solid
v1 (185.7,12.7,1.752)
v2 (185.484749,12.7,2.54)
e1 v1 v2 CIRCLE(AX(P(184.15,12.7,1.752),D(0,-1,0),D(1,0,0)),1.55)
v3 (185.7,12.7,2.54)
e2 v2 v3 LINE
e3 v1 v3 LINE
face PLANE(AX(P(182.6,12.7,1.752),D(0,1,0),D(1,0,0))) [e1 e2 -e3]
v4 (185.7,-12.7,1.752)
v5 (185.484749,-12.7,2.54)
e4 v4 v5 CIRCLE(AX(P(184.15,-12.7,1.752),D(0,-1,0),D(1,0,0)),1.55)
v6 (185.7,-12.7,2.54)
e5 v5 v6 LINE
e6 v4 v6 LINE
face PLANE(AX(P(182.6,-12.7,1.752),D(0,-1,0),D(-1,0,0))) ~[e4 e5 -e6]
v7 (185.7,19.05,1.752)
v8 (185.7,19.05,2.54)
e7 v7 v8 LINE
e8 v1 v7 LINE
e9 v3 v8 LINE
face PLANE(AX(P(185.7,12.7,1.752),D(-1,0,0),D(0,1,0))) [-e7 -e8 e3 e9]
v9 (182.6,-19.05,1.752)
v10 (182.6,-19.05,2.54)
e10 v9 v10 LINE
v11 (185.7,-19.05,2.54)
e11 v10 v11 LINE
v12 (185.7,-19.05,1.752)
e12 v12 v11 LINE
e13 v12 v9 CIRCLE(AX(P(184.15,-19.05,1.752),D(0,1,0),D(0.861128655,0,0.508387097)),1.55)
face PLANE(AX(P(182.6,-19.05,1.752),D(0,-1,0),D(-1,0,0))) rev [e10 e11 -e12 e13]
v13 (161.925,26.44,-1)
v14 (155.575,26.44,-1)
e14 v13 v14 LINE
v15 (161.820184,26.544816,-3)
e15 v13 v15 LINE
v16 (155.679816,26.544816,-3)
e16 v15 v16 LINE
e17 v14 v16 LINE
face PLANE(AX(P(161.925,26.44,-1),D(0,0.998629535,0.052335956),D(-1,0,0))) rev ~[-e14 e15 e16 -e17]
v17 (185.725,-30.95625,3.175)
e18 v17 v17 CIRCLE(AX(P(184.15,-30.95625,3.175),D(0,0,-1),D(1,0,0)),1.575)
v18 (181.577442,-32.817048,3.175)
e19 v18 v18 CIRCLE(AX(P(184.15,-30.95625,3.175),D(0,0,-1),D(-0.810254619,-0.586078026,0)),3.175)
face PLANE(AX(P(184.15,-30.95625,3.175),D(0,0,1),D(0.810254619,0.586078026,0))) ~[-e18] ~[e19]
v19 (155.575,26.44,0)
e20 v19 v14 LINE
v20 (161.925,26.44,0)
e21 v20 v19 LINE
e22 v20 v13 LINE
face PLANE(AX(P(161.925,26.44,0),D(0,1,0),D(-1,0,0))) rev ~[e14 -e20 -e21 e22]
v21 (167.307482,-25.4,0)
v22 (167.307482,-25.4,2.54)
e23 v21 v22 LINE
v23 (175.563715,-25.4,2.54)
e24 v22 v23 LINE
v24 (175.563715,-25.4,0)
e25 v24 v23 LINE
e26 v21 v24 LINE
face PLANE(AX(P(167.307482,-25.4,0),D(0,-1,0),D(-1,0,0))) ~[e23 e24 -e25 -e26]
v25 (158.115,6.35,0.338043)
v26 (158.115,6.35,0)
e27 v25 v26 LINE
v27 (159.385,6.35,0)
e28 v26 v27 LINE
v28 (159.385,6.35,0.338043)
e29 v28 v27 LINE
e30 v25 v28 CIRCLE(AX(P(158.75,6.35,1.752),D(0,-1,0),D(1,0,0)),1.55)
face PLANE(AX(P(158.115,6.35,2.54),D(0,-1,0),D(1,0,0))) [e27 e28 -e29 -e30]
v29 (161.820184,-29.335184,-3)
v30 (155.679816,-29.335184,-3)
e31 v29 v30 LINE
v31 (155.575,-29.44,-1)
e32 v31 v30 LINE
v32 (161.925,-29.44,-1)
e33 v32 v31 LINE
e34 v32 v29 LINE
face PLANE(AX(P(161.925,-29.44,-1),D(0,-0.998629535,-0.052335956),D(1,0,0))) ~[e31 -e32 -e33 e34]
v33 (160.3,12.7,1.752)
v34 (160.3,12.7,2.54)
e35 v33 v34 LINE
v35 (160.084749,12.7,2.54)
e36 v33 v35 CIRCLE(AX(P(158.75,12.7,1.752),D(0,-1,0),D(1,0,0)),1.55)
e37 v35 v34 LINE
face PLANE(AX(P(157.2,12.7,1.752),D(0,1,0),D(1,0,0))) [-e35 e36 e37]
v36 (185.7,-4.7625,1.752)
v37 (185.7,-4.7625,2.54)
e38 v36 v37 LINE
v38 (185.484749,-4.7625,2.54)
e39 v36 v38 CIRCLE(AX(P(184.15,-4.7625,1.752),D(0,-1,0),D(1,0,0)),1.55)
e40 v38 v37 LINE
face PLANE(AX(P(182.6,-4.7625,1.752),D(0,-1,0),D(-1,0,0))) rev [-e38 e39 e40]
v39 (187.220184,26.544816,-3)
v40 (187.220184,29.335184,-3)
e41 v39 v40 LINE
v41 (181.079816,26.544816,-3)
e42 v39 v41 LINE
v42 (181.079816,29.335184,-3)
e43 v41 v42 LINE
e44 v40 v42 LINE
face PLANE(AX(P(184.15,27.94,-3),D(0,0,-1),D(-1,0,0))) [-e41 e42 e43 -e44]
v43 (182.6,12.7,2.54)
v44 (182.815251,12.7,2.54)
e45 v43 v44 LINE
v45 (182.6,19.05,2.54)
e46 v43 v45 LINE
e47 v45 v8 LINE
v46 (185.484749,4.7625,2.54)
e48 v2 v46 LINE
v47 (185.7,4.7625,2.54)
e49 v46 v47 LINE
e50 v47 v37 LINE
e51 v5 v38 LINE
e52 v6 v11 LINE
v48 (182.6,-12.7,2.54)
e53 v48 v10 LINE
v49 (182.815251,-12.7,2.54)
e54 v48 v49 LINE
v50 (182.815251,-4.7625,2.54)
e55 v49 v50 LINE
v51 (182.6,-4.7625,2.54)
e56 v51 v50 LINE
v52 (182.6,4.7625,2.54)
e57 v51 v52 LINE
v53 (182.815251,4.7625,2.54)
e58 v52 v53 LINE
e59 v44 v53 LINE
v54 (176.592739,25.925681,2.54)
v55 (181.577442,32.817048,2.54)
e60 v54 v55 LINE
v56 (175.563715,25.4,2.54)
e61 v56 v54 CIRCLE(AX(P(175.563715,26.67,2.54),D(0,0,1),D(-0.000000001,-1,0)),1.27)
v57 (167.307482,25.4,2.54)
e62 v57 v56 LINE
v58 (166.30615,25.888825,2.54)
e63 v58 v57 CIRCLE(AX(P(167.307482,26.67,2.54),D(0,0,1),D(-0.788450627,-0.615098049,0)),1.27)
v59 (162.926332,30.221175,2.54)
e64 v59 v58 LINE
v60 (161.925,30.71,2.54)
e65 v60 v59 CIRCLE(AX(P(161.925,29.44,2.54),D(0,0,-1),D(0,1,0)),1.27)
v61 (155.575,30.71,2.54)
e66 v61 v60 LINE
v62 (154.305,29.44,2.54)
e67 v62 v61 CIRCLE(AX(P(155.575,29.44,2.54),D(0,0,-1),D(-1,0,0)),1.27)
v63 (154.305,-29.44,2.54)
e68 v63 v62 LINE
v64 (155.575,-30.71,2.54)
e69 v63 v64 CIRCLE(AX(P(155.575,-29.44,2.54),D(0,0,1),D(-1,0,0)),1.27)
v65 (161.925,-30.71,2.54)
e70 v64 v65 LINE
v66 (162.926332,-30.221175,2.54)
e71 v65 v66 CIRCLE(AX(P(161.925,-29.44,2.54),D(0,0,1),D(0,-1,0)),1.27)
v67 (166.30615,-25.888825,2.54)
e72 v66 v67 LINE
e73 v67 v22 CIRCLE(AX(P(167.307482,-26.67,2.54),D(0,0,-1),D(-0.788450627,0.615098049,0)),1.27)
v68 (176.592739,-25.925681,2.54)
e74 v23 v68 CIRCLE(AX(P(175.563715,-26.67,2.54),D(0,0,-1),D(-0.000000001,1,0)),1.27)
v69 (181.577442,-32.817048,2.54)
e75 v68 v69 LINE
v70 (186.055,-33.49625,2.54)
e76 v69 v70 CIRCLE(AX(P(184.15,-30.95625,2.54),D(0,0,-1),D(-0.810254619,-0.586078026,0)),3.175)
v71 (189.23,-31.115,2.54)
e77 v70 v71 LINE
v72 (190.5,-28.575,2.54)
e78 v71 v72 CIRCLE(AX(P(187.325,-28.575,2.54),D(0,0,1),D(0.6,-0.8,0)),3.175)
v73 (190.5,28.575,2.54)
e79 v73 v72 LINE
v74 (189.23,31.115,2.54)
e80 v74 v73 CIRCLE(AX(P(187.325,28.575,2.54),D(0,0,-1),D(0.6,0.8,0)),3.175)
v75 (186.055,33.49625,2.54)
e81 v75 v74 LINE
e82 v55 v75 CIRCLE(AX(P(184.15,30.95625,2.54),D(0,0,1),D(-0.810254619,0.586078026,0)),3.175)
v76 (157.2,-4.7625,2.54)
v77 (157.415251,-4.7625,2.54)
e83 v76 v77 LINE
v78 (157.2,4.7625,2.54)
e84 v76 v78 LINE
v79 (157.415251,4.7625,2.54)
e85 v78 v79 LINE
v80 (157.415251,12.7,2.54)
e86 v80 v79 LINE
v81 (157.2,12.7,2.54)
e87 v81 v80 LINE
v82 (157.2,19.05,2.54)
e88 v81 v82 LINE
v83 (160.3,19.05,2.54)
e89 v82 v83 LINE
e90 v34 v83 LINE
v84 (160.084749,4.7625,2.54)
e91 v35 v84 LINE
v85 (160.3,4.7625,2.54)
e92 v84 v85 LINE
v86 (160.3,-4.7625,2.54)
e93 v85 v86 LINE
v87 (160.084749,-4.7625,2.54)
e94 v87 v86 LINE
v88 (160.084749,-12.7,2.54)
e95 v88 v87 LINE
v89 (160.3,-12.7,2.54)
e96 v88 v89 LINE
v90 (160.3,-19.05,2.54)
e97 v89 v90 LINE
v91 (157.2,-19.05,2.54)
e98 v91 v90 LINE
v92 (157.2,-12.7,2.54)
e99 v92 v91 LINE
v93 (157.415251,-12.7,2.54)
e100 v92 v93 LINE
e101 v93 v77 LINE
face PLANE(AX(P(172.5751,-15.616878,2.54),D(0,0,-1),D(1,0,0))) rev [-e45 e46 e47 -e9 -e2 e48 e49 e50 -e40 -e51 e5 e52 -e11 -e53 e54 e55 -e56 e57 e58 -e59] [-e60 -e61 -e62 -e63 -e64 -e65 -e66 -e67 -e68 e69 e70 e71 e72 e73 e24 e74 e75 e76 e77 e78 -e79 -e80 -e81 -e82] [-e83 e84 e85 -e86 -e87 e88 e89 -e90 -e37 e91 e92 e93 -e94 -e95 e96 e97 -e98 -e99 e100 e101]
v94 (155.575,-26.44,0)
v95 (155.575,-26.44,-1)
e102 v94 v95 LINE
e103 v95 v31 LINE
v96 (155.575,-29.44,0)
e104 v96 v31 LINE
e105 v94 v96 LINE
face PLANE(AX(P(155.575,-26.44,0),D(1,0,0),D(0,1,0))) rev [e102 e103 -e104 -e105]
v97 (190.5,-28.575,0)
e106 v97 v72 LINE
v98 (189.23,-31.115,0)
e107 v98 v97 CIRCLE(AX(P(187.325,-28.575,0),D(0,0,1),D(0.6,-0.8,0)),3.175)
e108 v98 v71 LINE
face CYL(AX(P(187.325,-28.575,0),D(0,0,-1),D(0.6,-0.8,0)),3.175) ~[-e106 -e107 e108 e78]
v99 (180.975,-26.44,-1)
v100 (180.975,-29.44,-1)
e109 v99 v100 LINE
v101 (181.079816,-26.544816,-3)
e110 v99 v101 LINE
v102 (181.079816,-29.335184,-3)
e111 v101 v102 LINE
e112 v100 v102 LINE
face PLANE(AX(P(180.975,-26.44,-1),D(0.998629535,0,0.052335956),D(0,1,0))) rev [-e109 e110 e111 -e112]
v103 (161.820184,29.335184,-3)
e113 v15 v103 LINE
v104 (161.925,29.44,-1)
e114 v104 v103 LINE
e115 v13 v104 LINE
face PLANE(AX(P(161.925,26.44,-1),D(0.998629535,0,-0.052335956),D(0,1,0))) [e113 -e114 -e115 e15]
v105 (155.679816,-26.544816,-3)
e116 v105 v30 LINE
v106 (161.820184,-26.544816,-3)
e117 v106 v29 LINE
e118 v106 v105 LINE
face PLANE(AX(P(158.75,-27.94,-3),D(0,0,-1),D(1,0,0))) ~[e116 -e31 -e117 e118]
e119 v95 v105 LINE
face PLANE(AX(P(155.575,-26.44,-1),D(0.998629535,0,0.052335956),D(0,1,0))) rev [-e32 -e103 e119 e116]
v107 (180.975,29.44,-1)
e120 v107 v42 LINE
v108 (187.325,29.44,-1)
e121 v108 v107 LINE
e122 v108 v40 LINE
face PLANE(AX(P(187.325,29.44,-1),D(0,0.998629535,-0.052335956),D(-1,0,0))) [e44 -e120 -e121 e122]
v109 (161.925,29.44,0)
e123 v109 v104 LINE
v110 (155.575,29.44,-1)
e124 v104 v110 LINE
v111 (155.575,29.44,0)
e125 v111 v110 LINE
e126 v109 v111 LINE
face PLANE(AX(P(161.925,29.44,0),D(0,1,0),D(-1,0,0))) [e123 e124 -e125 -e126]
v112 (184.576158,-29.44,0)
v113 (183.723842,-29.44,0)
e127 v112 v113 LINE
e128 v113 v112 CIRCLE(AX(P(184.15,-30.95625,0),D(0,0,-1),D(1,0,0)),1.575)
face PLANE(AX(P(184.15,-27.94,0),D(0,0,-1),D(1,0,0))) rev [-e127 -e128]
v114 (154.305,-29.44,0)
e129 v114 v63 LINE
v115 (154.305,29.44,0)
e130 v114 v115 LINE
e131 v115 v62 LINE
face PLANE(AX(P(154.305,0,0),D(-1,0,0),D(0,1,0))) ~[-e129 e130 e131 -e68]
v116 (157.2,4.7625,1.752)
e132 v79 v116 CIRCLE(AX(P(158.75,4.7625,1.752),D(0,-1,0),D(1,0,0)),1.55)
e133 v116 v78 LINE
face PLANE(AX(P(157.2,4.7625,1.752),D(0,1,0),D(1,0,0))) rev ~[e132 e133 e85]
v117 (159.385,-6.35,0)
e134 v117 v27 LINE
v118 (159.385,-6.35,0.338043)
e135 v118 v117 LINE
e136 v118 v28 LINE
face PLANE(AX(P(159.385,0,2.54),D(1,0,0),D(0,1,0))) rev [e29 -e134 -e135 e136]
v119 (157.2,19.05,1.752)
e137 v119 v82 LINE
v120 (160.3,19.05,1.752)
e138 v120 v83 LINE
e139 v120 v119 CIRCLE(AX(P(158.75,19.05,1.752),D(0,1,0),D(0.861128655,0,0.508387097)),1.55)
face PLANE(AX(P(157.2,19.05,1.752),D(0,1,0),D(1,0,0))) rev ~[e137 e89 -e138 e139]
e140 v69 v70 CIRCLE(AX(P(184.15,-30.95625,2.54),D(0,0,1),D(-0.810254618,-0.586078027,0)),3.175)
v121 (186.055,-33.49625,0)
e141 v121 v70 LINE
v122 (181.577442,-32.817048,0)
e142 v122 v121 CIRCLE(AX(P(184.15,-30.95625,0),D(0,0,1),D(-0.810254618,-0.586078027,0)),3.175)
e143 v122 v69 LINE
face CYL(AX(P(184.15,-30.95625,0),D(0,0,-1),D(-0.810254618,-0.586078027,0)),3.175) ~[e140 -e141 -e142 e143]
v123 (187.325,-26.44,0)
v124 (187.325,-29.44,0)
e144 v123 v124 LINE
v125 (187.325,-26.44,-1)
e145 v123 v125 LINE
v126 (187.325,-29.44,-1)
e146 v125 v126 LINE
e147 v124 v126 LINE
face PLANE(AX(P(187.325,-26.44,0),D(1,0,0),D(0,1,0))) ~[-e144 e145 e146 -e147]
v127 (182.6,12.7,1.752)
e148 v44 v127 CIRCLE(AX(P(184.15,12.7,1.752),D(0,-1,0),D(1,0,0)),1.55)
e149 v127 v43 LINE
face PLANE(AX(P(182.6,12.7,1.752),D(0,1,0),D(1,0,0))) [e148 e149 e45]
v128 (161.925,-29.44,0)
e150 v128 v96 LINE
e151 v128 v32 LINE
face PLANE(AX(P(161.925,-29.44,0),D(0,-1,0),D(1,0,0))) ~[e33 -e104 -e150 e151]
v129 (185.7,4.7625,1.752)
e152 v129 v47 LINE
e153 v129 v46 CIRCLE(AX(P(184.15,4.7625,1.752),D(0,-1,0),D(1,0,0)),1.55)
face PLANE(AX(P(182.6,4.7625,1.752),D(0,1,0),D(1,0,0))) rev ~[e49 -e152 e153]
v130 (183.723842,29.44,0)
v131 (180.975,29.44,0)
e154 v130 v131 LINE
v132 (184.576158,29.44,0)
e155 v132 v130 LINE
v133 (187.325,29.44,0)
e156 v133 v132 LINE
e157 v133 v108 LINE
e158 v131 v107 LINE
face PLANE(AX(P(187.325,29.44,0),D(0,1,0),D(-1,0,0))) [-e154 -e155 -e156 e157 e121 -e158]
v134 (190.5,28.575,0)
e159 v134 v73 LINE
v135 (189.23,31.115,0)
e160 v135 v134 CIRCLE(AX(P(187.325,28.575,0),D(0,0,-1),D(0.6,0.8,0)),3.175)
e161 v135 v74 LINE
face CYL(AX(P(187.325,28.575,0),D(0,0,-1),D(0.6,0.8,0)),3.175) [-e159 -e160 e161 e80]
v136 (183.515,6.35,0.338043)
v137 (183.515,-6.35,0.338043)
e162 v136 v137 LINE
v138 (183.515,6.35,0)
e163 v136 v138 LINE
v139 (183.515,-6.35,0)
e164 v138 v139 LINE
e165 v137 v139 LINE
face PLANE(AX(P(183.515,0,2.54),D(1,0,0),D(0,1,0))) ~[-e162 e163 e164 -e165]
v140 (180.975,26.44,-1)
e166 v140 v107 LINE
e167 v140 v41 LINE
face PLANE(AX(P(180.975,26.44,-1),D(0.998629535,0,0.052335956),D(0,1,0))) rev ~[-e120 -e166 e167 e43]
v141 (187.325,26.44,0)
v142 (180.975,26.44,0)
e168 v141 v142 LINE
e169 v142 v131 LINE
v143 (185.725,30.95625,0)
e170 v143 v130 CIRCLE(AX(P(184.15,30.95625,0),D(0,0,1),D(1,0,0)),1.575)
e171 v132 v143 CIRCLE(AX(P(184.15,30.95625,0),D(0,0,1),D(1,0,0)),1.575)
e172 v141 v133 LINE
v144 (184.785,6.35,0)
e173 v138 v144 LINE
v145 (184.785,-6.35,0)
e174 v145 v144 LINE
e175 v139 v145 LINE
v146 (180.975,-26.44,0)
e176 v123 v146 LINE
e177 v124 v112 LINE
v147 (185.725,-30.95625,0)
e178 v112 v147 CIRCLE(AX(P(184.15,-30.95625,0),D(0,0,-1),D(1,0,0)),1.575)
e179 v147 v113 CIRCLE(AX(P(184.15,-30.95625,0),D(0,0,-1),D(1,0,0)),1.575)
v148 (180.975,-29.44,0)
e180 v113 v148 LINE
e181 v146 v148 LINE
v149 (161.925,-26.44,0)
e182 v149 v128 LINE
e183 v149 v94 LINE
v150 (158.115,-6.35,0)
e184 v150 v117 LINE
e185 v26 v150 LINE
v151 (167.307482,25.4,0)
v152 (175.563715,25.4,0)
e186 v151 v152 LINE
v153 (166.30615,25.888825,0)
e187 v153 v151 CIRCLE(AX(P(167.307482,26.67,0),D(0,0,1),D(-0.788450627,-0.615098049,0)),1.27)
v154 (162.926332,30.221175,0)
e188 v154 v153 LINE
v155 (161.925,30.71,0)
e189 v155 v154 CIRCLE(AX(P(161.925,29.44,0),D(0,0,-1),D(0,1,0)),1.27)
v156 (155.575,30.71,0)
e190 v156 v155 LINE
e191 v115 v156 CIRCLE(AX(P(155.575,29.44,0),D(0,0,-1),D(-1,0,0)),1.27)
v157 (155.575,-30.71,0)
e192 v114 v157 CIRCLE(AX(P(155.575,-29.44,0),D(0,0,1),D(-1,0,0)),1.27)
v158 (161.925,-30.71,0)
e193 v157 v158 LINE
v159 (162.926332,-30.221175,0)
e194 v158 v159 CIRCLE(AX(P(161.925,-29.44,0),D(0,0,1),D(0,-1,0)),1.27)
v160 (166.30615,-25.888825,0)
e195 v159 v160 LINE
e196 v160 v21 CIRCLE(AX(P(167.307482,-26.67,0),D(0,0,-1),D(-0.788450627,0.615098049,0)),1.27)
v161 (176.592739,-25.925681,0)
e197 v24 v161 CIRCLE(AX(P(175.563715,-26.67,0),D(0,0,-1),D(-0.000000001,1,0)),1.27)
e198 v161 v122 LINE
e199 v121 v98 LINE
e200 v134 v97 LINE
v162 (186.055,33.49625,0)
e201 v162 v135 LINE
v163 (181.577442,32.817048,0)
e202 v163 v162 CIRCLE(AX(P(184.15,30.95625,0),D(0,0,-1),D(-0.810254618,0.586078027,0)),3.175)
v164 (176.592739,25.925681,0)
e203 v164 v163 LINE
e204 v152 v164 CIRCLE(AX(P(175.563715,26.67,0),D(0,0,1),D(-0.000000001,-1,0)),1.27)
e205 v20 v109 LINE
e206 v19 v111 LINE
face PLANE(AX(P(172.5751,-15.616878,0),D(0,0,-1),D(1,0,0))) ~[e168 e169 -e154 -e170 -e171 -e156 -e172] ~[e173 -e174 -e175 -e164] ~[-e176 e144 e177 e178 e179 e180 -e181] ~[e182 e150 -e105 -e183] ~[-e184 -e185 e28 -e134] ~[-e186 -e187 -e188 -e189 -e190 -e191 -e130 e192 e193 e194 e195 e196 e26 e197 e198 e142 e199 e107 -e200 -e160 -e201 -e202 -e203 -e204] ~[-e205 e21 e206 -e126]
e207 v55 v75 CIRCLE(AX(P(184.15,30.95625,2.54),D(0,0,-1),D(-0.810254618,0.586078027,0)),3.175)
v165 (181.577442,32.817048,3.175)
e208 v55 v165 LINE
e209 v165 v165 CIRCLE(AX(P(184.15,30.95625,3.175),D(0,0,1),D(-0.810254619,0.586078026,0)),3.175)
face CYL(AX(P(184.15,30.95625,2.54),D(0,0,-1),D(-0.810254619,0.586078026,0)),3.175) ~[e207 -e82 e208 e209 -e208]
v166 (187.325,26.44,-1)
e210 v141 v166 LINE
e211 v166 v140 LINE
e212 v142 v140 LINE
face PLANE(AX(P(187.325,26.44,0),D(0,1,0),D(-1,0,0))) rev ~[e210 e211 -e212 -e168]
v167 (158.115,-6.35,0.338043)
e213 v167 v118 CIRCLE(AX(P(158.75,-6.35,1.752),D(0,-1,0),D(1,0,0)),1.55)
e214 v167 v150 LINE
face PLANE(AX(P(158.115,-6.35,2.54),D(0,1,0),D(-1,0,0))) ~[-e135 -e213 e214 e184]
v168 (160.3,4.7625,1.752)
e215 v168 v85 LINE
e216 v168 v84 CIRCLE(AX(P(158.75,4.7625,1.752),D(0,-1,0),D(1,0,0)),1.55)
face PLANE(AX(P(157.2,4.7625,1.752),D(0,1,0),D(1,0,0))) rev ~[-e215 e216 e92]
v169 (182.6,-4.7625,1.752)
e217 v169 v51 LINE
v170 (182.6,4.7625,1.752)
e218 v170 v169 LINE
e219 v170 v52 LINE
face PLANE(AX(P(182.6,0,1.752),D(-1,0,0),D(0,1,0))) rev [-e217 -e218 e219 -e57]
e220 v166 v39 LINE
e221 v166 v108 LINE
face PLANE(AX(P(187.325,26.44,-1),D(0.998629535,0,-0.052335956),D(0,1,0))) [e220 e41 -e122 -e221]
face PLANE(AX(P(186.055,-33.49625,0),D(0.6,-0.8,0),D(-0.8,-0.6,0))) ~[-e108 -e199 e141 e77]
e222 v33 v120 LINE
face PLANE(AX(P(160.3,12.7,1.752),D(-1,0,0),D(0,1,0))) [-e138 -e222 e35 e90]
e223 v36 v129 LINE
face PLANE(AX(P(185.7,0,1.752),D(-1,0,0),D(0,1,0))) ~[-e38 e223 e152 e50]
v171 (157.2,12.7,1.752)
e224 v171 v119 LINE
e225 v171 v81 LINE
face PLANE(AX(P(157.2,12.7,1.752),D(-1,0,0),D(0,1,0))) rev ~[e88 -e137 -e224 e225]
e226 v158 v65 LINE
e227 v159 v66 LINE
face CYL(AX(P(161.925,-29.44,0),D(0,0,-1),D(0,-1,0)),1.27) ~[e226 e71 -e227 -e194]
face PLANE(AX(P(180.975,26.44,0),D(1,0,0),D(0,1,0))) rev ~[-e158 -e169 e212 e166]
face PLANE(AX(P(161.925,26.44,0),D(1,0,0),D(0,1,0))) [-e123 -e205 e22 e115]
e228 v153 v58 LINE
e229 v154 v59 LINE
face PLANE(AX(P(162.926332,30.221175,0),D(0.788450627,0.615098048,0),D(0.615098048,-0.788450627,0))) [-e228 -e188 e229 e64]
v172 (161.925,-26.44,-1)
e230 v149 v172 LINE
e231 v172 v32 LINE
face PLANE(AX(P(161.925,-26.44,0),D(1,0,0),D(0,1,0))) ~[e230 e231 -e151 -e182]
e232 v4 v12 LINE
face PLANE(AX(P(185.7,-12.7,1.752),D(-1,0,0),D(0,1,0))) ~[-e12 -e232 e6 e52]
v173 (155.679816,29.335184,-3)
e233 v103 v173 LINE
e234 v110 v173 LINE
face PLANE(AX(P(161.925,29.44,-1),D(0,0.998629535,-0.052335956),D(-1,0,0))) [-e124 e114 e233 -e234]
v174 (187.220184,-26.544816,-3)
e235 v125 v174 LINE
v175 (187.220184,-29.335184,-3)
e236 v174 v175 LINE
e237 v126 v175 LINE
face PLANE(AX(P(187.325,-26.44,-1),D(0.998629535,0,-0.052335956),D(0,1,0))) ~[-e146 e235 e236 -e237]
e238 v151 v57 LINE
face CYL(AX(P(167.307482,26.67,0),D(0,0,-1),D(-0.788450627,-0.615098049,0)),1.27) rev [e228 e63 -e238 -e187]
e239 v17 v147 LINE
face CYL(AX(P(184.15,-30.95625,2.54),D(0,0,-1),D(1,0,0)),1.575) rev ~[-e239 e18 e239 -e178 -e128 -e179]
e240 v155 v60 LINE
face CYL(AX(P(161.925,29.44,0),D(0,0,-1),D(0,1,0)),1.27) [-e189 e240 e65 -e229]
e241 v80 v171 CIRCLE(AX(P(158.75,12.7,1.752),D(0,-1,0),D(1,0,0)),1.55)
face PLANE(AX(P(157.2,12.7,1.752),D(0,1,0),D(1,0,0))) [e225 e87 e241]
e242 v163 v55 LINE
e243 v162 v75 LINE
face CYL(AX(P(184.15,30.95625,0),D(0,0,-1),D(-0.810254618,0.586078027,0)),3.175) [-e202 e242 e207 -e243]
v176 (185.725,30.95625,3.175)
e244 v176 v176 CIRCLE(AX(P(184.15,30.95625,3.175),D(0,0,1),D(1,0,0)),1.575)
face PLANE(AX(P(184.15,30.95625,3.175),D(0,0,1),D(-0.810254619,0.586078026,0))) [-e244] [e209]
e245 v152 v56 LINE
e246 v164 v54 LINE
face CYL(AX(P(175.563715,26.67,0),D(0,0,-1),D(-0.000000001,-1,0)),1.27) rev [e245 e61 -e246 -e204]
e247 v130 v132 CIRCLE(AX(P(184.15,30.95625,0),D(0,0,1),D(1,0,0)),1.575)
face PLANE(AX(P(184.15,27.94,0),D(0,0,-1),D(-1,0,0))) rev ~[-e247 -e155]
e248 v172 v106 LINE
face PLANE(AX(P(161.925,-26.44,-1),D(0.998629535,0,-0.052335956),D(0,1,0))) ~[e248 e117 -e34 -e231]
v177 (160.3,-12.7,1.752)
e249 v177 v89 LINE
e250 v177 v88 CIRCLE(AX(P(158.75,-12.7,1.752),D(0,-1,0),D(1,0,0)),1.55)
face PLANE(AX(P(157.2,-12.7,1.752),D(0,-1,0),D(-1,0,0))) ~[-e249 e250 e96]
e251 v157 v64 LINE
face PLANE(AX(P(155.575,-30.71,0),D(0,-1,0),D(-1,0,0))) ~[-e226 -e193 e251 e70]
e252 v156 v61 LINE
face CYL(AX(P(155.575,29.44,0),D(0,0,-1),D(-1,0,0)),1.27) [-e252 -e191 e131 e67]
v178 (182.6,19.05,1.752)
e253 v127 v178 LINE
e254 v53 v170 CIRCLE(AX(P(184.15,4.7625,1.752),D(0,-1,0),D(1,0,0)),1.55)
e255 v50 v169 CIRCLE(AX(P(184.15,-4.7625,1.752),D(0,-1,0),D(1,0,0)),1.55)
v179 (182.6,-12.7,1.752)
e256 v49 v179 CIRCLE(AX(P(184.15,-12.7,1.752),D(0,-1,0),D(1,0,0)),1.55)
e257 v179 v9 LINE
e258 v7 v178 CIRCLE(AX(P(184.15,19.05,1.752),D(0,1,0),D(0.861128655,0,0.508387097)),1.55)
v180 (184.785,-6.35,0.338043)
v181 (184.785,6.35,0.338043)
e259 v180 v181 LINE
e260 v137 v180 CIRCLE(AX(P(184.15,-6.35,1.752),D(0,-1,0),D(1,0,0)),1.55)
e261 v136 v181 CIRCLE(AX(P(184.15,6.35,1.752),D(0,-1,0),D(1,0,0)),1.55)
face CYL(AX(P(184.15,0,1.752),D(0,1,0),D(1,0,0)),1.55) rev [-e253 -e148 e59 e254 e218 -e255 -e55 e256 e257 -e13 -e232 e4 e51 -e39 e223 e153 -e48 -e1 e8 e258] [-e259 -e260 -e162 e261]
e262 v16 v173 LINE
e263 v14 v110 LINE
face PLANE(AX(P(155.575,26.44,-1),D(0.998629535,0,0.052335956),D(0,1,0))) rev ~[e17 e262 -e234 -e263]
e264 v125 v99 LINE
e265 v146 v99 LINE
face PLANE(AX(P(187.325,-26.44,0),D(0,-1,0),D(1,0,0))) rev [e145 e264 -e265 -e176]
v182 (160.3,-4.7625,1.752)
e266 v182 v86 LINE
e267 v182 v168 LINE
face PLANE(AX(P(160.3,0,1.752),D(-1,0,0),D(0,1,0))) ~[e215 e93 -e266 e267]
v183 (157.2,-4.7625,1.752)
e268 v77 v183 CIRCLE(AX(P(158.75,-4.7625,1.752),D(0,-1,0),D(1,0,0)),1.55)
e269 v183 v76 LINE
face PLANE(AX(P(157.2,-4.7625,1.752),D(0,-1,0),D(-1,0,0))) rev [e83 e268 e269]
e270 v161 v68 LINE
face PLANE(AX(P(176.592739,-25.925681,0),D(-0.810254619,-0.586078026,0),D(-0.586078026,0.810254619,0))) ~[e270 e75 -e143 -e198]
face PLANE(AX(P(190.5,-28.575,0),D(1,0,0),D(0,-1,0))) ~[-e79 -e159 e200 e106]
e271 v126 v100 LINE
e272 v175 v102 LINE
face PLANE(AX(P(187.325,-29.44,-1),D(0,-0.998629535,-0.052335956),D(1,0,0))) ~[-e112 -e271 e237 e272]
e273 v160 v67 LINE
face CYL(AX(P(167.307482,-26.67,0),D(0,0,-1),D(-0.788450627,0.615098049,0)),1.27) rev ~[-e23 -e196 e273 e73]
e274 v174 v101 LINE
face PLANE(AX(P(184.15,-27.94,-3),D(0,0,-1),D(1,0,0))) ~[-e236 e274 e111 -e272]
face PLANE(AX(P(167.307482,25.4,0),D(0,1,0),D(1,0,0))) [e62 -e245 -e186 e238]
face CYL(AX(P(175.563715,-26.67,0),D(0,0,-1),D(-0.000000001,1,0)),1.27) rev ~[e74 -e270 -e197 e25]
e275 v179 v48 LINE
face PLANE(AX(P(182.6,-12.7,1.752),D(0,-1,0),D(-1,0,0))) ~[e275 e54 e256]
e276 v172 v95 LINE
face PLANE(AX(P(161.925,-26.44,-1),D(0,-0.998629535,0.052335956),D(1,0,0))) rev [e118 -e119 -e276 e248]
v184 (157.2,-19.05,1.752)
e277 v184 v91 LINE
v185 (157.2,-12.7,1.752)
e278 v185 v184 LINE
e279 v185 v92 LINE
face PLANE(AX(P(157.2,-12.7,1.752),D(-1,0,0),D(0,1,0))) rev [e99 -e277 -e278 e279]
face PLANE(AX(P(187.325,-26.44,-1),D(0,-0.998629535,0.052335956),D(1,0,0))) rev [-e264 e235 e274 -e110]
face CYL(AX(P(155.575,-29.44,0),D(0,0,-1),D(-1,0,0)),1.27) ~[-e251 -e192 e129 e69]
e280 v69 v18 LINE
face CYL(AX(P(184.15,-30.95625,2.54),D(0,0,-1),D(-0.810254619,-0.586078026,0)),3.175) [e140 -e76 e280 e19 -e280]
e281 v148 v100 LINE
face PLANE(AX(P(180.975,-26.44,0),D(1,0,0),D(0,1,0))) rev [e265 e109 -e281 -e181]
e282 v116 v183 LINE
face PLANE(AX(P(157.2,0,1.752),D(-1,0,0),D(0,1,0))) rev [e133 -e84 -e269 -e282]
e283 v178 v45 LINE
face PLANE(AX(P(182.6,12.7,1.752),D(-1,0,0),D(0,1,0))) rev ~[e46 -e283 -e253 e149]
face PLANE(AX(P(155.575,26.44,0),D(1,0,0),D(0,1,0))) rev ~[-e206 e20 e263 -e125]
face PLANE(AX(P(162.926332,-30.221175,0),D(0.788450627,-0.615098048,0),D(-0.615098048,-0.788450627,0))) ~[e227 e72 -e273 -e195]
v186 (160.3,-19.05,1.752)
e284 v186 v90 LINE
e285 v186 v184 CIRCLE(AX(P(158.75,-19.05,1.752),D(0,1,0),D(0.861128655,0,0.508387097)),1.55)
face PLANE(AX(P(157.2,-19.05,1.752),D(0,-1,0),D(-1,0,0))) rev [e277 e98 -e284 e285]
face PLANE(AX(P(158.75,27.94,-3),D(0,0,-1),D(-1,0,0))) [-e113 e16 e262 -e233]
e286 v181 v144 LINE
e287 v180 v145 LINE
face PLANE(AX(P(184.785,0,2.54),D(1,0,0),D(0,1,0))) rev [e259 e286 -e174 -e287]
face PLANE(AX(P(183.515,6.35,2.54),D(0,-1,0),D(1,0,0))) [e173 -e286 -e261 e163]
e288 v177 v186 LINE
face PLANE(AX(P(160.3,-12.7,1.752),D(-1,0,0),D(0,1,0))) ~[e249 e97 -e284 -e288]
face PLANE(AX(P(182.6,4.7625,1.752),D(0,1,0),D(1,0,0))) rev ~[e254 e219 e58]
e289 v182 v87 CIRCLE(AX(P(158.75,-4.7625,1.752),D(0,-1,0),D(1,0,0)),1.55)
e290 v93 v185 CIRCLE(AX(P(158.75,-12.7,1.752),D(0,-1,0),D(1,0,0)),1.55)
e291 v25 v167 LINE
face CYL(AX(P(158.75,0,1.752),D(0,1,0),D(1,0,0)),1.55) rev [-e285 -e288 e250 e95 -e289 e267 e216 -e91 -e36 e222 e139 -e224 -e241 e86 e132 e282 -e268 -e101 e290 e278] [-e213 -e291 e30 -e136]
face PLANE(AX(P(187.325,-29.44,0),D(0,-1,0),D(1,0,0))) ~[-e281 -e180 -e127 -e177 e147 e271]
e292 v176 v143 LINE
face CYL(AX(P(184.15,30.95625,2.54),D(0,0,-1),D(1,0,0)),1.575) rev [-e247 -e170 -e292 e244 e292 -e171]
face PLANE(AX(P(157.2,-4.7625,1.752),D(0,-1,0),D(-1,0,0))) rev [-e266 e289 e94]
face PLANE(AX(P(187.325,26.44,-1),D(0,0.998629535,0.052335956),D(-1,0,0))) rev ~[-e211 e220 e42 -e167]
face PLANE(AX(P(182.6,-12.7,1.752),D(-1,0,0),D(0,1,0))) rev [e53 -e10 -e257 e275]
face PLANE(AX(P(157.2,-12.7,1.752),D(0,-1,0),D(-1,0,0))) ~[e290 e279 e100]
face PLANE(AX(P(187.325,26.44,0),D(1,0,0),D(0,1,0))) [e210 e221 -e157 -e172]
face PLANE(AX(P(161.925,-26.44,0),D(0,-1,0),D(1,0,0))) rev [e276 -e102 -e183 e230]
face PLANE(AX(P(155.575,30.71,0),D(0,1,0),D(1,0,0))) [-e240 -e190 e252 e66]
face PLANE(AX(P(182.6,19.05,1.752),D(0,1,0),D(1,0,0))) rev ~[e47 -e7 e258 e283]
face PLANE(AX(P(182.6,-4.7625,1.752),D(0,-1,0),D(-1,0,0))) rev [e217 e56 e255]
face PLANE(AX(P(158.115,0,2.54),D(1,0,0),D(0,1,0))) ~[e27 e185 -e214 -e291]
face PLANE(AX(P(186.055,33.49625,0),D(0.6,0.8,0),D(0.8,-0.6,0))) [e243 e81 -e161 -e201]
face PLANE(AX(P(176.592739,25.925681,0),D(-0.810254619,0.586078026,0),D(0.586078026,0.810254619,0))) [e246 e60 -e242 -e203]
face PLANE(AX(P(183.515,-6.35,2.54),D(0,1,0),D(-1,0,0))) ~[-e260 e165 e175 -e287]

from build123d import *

# Parameters (mm, degrees)
SKETCH2_R                     = 1.575
BOSS_EXTRUDE1_DEPTH           = 2.54
SKETCH3_R                     = 3.175
SKETCH3_R_2                   = 1.575
BOSS_EXTRUDE2_DEPTH           = 0.635
SKETCH4_W                     = 6.35
SKETCH4_H                     = 3
BOSS_EXTRUDE3_DEPTH           = 1
SKETCH5_W                     = 6.35
SKETCH5_H                     = 3
BOSS_EXTRUDE4_DEPTH           = 2
BOSS_EXTRUDE4_DRAFT           = 3
BOSS_EXTRUDE4_PROFILE_2_DEPTH = 2
BOSS_EXTRUDE4_PROFILE_2_DRAFT = 3
SKETCH6_R                     = 1.55
CUT_EXTRUDE1_DEPTH            = 19.05
CUT_EXTRUDE2_START            = -0.788
SKETCH7_W                     = 3.1
SKETCH7_H                     = 6.35
SKETCH7_H_2                   = 4.7625
CUT_EXTRUDE2_DEPTH            = 0.788
CUT_EXTRUDE3_REACH            = 195.613
SKETCH8_W                     = 1.27
SKETCH8_H                     = 6.35
LPATTERN1_COUNT               = 2
LPATTERN1_PITCH               = 25.4


with BuildPart() as part:
    # Sketch2 → Boss-Extrude1 (new body)
    with BuildSketch(Plane.XY):
        with BuildLine():
            Line((186.055, 33.49625), (189.23, 31.115))
            ThreePointArc((189.23, 31.115), (190.164806331, 29.994903166), (190.5, 28.575))
            Line((190.5, 28.575), (190.5, 0))
            Line((190.5, 0), (154.305, 0))
            Line((154.305, 0), (154.305, 29.44))
            ThreePointArc((154.305, 29.44), (154.676974388, 30.338025612), (155.575, 30.71))
            Line((155.575, 30.71), (161.925, 30.71))
            ThreePointArc((161.925, 30.71), (162.482139282, 30.58126939), (162.926332297, 30.221174521))
            Line((162.926332297, 30.221174521), (166.306150062, 25.888825479))
            ThreePointArc((166.306150062, 25.888825479), (166.750343077, 25.52873061), (167.307482358, 25.4))
            Line((167.307482358, 25.4), (175.563715168, 25.4))
            ThreePointArc((175.563715168, 25.4), (176.141475824, 25.539030228), (176.592738534, 25.925680906))
            Line((176.592738534, 25.925680906), (181.577441586, 32.817047734))
            ThreePointArc((181.577441586, 32.817047734), (183.673830399, 34.095340236), (186.055, 33.49625))
        make_face()
        with Locations((184.15, 30.95625)):
            Circle(SKETCH2_R, mode=Mode.SUBTRACT)
    extrude(amount=BOSS_EXTRUDE1_DEPTH)

    # Sketch3 → Boss-Extrude2 (add)
    with BuildSketch(Plane.XY.offset(2.54)):
        with Locations(Location((184.15, 30.95625, 0), (0, 0, 144.120815799))):
            Circle(SKETCH3_R)
        with Locations((184.15, 30.95625)):
            Circle(SKETCH3_R_2, mode=Mode.SUBTRACT)
    extrude(amount=BOSS_EXTRUDE2_DEPTH)

    # Sketch4 → Boss-Extrude3 (add)
    with BuildSketch(Plane(origin=(0, 0, 0), x_dir=(-1, 0, 0), z_dir=(0, 0, -1))):
        with Locations((-184.15, 27.94)):
            Rectangle(SKETCH4_W, SKETCH4_H)
        with Locations((-158.75, 27.94)):
            Rectangle(SKETCH4_W, SKETCH4_H)
    extrude(amount=BOSS_EXTRUDE3_DEPTH)


with BuildPart() as boss_extrude4_tool:
    # Sketch5 → Boss-Extrude4 (with draft: the straight prism first)
    with BuildSketch(Plane(origin=(0, 0, -1), x_dir=(-1, 0, 0), z_dir=(0, 0, -1))):
        with Locations((-158.75, 27.94)):
            Rectangle(SKETCH5_W, SKETCH5_H)
    extrude(amount=BOSS_EXTRUDE4_DEPTH)
    # Boss-Extrude4: the draft: its side faces are tilted about the plane it starts from
    boss_extrude4_sides = [boss_extrude4_tool.faces().sort_by_distance(p)[0] for p in [
        (155.575, 27.94, -2),
        (158.75, 29.44, -2),
        (161.925, 27.94, -2),
        (158.75, 26.44, -2),
    ]]
    draft(boss_extrude4_sides, Plane(origin=(0, 0, -1), x_dir=(-1, 0, 0), z_dir=(0, 0, -1)), BOSS_EXTRUDE4_DRAFT)


with BuildPart() as part_1:
    add(part.part)

    # Boss-Extrude4: add boss_extrude4_tool
    add(boss_extrude4_tool.part)


with BuildPart() as boss_extrude4_profile_2_tool:
    # Sketch5 → Boss-Extrude4 profile 2 (with draft: the straight prism first)
    with BuildSketch(Plane(origin=(0, 0, -1), x_dir=(-1, 0, 0), z_dir=(0, 0, -1))):
        with Locations((-184.15, 27.94)):
            Rectangle(SKETCH5_W, SKETCH5_H)
    extrude(amount=BOSS_EXTRUDE4_PROFILE_2_DEPTH)
    # Boss-Extrude4 profile 2: the draft: its side faces are tilted about the plane it starts from
    boss_extrude4_profile_2_sides = [boss_extrude4_profile_2_tool.faces().sort_by_distance(p)[0] for p in [
        (180.975, 27.94, -2),
        (184.15, 29.44, -2),
        (187.325, 27.94, -2),
        (184.15, 26.44, -2),
    ]]
    draft(boss_extrude4_profile_2_sides, Plane(origin=(0, 0, -1), x_dir=(-1, 0, 0), z_dir=(0, 0, -1)), BOSS_EXTRUDE4_PROFILE_2_DRAFT)


with BuildPart() as part_2:
    add(part_1.part)

    # Boss-Extrude4 profile 2: add boss_extrude4_profile_2_tool
    add(boss_extrude4_profile_2_tool.part)

    # Sketch6 → Cut-Extrude1 (cut)
    with BuildSketch(Plane.XZ):
        with Locations((184.15, 1.752)):
            Circle(SKETCH6_R)
    cut_extrude1 = extrude(amount=-CUT_EXTRUDE1_DEPTH, mode=Mode.SUBTRACT)

    # Sketch7 → Cut-Extrude2 (cut)
    with BuildSketch(Plane.XY.offset(2.54).offset(CUT_EXTRUDE2_START)):
        with Locations((184.15, 15.875)):
            Rectangle(SKETCH7_W, SKETCH7_H)
        with Locations((184.15, 2.38125)):
            Rectangle(SKETCH7_W, SKETCH7_H_2)
    cut_extrude2 = extrude(amount=CUT_EXTRUDE2_DEPTH, mode=Mode.SUBTRACT)

    # Sketch8 → Cut-Extrude3 (cut, up to next)
    with BuildSketch(Plane.XY.offset(2.54), mode=Mode.PRIVATE) as cut_extrude3_sk1:
        with Locations((184.15, 3.175)):
            Rectangle(SKETCH8_W, SKETCH8_H)
    cut_extrude3_tool1 = extrude(cut_extrude3_sk1.sketch, amount=-CUT_EXTRUDE3_REACH, mode=Mode.PRIVATE) & part_2.part
    cut_extrude3 = cut_extrude3_tool1.solids().sort_by_distance((184.15, 3.175, 2.54))[0]
    add(cut_extrude3, mode=Mode.SUBTRACT)

    # LPattern1: Cut-Extrude1, Cut-Extrude2, Cut-Extrude3 ×2
    with Locations(*[(-i * LPATTERN1_PITCH, 0, 0) for i in range(1, LPATTERN1_COUNT)]):
        add(cut_extrude1, mode=Mode.SUBTRACT)
        add(cut_extrude2, mode=Mode.SUBTRACT)
        add(cut_extrude3, mode=Mode.SUBTRACT)

    # Mirror1: part across plane


with BuildPart() as part_3:
    add(part_2.part)
    add(part_2.part.mirror(Plane.ZX))


solid = part_3.part
